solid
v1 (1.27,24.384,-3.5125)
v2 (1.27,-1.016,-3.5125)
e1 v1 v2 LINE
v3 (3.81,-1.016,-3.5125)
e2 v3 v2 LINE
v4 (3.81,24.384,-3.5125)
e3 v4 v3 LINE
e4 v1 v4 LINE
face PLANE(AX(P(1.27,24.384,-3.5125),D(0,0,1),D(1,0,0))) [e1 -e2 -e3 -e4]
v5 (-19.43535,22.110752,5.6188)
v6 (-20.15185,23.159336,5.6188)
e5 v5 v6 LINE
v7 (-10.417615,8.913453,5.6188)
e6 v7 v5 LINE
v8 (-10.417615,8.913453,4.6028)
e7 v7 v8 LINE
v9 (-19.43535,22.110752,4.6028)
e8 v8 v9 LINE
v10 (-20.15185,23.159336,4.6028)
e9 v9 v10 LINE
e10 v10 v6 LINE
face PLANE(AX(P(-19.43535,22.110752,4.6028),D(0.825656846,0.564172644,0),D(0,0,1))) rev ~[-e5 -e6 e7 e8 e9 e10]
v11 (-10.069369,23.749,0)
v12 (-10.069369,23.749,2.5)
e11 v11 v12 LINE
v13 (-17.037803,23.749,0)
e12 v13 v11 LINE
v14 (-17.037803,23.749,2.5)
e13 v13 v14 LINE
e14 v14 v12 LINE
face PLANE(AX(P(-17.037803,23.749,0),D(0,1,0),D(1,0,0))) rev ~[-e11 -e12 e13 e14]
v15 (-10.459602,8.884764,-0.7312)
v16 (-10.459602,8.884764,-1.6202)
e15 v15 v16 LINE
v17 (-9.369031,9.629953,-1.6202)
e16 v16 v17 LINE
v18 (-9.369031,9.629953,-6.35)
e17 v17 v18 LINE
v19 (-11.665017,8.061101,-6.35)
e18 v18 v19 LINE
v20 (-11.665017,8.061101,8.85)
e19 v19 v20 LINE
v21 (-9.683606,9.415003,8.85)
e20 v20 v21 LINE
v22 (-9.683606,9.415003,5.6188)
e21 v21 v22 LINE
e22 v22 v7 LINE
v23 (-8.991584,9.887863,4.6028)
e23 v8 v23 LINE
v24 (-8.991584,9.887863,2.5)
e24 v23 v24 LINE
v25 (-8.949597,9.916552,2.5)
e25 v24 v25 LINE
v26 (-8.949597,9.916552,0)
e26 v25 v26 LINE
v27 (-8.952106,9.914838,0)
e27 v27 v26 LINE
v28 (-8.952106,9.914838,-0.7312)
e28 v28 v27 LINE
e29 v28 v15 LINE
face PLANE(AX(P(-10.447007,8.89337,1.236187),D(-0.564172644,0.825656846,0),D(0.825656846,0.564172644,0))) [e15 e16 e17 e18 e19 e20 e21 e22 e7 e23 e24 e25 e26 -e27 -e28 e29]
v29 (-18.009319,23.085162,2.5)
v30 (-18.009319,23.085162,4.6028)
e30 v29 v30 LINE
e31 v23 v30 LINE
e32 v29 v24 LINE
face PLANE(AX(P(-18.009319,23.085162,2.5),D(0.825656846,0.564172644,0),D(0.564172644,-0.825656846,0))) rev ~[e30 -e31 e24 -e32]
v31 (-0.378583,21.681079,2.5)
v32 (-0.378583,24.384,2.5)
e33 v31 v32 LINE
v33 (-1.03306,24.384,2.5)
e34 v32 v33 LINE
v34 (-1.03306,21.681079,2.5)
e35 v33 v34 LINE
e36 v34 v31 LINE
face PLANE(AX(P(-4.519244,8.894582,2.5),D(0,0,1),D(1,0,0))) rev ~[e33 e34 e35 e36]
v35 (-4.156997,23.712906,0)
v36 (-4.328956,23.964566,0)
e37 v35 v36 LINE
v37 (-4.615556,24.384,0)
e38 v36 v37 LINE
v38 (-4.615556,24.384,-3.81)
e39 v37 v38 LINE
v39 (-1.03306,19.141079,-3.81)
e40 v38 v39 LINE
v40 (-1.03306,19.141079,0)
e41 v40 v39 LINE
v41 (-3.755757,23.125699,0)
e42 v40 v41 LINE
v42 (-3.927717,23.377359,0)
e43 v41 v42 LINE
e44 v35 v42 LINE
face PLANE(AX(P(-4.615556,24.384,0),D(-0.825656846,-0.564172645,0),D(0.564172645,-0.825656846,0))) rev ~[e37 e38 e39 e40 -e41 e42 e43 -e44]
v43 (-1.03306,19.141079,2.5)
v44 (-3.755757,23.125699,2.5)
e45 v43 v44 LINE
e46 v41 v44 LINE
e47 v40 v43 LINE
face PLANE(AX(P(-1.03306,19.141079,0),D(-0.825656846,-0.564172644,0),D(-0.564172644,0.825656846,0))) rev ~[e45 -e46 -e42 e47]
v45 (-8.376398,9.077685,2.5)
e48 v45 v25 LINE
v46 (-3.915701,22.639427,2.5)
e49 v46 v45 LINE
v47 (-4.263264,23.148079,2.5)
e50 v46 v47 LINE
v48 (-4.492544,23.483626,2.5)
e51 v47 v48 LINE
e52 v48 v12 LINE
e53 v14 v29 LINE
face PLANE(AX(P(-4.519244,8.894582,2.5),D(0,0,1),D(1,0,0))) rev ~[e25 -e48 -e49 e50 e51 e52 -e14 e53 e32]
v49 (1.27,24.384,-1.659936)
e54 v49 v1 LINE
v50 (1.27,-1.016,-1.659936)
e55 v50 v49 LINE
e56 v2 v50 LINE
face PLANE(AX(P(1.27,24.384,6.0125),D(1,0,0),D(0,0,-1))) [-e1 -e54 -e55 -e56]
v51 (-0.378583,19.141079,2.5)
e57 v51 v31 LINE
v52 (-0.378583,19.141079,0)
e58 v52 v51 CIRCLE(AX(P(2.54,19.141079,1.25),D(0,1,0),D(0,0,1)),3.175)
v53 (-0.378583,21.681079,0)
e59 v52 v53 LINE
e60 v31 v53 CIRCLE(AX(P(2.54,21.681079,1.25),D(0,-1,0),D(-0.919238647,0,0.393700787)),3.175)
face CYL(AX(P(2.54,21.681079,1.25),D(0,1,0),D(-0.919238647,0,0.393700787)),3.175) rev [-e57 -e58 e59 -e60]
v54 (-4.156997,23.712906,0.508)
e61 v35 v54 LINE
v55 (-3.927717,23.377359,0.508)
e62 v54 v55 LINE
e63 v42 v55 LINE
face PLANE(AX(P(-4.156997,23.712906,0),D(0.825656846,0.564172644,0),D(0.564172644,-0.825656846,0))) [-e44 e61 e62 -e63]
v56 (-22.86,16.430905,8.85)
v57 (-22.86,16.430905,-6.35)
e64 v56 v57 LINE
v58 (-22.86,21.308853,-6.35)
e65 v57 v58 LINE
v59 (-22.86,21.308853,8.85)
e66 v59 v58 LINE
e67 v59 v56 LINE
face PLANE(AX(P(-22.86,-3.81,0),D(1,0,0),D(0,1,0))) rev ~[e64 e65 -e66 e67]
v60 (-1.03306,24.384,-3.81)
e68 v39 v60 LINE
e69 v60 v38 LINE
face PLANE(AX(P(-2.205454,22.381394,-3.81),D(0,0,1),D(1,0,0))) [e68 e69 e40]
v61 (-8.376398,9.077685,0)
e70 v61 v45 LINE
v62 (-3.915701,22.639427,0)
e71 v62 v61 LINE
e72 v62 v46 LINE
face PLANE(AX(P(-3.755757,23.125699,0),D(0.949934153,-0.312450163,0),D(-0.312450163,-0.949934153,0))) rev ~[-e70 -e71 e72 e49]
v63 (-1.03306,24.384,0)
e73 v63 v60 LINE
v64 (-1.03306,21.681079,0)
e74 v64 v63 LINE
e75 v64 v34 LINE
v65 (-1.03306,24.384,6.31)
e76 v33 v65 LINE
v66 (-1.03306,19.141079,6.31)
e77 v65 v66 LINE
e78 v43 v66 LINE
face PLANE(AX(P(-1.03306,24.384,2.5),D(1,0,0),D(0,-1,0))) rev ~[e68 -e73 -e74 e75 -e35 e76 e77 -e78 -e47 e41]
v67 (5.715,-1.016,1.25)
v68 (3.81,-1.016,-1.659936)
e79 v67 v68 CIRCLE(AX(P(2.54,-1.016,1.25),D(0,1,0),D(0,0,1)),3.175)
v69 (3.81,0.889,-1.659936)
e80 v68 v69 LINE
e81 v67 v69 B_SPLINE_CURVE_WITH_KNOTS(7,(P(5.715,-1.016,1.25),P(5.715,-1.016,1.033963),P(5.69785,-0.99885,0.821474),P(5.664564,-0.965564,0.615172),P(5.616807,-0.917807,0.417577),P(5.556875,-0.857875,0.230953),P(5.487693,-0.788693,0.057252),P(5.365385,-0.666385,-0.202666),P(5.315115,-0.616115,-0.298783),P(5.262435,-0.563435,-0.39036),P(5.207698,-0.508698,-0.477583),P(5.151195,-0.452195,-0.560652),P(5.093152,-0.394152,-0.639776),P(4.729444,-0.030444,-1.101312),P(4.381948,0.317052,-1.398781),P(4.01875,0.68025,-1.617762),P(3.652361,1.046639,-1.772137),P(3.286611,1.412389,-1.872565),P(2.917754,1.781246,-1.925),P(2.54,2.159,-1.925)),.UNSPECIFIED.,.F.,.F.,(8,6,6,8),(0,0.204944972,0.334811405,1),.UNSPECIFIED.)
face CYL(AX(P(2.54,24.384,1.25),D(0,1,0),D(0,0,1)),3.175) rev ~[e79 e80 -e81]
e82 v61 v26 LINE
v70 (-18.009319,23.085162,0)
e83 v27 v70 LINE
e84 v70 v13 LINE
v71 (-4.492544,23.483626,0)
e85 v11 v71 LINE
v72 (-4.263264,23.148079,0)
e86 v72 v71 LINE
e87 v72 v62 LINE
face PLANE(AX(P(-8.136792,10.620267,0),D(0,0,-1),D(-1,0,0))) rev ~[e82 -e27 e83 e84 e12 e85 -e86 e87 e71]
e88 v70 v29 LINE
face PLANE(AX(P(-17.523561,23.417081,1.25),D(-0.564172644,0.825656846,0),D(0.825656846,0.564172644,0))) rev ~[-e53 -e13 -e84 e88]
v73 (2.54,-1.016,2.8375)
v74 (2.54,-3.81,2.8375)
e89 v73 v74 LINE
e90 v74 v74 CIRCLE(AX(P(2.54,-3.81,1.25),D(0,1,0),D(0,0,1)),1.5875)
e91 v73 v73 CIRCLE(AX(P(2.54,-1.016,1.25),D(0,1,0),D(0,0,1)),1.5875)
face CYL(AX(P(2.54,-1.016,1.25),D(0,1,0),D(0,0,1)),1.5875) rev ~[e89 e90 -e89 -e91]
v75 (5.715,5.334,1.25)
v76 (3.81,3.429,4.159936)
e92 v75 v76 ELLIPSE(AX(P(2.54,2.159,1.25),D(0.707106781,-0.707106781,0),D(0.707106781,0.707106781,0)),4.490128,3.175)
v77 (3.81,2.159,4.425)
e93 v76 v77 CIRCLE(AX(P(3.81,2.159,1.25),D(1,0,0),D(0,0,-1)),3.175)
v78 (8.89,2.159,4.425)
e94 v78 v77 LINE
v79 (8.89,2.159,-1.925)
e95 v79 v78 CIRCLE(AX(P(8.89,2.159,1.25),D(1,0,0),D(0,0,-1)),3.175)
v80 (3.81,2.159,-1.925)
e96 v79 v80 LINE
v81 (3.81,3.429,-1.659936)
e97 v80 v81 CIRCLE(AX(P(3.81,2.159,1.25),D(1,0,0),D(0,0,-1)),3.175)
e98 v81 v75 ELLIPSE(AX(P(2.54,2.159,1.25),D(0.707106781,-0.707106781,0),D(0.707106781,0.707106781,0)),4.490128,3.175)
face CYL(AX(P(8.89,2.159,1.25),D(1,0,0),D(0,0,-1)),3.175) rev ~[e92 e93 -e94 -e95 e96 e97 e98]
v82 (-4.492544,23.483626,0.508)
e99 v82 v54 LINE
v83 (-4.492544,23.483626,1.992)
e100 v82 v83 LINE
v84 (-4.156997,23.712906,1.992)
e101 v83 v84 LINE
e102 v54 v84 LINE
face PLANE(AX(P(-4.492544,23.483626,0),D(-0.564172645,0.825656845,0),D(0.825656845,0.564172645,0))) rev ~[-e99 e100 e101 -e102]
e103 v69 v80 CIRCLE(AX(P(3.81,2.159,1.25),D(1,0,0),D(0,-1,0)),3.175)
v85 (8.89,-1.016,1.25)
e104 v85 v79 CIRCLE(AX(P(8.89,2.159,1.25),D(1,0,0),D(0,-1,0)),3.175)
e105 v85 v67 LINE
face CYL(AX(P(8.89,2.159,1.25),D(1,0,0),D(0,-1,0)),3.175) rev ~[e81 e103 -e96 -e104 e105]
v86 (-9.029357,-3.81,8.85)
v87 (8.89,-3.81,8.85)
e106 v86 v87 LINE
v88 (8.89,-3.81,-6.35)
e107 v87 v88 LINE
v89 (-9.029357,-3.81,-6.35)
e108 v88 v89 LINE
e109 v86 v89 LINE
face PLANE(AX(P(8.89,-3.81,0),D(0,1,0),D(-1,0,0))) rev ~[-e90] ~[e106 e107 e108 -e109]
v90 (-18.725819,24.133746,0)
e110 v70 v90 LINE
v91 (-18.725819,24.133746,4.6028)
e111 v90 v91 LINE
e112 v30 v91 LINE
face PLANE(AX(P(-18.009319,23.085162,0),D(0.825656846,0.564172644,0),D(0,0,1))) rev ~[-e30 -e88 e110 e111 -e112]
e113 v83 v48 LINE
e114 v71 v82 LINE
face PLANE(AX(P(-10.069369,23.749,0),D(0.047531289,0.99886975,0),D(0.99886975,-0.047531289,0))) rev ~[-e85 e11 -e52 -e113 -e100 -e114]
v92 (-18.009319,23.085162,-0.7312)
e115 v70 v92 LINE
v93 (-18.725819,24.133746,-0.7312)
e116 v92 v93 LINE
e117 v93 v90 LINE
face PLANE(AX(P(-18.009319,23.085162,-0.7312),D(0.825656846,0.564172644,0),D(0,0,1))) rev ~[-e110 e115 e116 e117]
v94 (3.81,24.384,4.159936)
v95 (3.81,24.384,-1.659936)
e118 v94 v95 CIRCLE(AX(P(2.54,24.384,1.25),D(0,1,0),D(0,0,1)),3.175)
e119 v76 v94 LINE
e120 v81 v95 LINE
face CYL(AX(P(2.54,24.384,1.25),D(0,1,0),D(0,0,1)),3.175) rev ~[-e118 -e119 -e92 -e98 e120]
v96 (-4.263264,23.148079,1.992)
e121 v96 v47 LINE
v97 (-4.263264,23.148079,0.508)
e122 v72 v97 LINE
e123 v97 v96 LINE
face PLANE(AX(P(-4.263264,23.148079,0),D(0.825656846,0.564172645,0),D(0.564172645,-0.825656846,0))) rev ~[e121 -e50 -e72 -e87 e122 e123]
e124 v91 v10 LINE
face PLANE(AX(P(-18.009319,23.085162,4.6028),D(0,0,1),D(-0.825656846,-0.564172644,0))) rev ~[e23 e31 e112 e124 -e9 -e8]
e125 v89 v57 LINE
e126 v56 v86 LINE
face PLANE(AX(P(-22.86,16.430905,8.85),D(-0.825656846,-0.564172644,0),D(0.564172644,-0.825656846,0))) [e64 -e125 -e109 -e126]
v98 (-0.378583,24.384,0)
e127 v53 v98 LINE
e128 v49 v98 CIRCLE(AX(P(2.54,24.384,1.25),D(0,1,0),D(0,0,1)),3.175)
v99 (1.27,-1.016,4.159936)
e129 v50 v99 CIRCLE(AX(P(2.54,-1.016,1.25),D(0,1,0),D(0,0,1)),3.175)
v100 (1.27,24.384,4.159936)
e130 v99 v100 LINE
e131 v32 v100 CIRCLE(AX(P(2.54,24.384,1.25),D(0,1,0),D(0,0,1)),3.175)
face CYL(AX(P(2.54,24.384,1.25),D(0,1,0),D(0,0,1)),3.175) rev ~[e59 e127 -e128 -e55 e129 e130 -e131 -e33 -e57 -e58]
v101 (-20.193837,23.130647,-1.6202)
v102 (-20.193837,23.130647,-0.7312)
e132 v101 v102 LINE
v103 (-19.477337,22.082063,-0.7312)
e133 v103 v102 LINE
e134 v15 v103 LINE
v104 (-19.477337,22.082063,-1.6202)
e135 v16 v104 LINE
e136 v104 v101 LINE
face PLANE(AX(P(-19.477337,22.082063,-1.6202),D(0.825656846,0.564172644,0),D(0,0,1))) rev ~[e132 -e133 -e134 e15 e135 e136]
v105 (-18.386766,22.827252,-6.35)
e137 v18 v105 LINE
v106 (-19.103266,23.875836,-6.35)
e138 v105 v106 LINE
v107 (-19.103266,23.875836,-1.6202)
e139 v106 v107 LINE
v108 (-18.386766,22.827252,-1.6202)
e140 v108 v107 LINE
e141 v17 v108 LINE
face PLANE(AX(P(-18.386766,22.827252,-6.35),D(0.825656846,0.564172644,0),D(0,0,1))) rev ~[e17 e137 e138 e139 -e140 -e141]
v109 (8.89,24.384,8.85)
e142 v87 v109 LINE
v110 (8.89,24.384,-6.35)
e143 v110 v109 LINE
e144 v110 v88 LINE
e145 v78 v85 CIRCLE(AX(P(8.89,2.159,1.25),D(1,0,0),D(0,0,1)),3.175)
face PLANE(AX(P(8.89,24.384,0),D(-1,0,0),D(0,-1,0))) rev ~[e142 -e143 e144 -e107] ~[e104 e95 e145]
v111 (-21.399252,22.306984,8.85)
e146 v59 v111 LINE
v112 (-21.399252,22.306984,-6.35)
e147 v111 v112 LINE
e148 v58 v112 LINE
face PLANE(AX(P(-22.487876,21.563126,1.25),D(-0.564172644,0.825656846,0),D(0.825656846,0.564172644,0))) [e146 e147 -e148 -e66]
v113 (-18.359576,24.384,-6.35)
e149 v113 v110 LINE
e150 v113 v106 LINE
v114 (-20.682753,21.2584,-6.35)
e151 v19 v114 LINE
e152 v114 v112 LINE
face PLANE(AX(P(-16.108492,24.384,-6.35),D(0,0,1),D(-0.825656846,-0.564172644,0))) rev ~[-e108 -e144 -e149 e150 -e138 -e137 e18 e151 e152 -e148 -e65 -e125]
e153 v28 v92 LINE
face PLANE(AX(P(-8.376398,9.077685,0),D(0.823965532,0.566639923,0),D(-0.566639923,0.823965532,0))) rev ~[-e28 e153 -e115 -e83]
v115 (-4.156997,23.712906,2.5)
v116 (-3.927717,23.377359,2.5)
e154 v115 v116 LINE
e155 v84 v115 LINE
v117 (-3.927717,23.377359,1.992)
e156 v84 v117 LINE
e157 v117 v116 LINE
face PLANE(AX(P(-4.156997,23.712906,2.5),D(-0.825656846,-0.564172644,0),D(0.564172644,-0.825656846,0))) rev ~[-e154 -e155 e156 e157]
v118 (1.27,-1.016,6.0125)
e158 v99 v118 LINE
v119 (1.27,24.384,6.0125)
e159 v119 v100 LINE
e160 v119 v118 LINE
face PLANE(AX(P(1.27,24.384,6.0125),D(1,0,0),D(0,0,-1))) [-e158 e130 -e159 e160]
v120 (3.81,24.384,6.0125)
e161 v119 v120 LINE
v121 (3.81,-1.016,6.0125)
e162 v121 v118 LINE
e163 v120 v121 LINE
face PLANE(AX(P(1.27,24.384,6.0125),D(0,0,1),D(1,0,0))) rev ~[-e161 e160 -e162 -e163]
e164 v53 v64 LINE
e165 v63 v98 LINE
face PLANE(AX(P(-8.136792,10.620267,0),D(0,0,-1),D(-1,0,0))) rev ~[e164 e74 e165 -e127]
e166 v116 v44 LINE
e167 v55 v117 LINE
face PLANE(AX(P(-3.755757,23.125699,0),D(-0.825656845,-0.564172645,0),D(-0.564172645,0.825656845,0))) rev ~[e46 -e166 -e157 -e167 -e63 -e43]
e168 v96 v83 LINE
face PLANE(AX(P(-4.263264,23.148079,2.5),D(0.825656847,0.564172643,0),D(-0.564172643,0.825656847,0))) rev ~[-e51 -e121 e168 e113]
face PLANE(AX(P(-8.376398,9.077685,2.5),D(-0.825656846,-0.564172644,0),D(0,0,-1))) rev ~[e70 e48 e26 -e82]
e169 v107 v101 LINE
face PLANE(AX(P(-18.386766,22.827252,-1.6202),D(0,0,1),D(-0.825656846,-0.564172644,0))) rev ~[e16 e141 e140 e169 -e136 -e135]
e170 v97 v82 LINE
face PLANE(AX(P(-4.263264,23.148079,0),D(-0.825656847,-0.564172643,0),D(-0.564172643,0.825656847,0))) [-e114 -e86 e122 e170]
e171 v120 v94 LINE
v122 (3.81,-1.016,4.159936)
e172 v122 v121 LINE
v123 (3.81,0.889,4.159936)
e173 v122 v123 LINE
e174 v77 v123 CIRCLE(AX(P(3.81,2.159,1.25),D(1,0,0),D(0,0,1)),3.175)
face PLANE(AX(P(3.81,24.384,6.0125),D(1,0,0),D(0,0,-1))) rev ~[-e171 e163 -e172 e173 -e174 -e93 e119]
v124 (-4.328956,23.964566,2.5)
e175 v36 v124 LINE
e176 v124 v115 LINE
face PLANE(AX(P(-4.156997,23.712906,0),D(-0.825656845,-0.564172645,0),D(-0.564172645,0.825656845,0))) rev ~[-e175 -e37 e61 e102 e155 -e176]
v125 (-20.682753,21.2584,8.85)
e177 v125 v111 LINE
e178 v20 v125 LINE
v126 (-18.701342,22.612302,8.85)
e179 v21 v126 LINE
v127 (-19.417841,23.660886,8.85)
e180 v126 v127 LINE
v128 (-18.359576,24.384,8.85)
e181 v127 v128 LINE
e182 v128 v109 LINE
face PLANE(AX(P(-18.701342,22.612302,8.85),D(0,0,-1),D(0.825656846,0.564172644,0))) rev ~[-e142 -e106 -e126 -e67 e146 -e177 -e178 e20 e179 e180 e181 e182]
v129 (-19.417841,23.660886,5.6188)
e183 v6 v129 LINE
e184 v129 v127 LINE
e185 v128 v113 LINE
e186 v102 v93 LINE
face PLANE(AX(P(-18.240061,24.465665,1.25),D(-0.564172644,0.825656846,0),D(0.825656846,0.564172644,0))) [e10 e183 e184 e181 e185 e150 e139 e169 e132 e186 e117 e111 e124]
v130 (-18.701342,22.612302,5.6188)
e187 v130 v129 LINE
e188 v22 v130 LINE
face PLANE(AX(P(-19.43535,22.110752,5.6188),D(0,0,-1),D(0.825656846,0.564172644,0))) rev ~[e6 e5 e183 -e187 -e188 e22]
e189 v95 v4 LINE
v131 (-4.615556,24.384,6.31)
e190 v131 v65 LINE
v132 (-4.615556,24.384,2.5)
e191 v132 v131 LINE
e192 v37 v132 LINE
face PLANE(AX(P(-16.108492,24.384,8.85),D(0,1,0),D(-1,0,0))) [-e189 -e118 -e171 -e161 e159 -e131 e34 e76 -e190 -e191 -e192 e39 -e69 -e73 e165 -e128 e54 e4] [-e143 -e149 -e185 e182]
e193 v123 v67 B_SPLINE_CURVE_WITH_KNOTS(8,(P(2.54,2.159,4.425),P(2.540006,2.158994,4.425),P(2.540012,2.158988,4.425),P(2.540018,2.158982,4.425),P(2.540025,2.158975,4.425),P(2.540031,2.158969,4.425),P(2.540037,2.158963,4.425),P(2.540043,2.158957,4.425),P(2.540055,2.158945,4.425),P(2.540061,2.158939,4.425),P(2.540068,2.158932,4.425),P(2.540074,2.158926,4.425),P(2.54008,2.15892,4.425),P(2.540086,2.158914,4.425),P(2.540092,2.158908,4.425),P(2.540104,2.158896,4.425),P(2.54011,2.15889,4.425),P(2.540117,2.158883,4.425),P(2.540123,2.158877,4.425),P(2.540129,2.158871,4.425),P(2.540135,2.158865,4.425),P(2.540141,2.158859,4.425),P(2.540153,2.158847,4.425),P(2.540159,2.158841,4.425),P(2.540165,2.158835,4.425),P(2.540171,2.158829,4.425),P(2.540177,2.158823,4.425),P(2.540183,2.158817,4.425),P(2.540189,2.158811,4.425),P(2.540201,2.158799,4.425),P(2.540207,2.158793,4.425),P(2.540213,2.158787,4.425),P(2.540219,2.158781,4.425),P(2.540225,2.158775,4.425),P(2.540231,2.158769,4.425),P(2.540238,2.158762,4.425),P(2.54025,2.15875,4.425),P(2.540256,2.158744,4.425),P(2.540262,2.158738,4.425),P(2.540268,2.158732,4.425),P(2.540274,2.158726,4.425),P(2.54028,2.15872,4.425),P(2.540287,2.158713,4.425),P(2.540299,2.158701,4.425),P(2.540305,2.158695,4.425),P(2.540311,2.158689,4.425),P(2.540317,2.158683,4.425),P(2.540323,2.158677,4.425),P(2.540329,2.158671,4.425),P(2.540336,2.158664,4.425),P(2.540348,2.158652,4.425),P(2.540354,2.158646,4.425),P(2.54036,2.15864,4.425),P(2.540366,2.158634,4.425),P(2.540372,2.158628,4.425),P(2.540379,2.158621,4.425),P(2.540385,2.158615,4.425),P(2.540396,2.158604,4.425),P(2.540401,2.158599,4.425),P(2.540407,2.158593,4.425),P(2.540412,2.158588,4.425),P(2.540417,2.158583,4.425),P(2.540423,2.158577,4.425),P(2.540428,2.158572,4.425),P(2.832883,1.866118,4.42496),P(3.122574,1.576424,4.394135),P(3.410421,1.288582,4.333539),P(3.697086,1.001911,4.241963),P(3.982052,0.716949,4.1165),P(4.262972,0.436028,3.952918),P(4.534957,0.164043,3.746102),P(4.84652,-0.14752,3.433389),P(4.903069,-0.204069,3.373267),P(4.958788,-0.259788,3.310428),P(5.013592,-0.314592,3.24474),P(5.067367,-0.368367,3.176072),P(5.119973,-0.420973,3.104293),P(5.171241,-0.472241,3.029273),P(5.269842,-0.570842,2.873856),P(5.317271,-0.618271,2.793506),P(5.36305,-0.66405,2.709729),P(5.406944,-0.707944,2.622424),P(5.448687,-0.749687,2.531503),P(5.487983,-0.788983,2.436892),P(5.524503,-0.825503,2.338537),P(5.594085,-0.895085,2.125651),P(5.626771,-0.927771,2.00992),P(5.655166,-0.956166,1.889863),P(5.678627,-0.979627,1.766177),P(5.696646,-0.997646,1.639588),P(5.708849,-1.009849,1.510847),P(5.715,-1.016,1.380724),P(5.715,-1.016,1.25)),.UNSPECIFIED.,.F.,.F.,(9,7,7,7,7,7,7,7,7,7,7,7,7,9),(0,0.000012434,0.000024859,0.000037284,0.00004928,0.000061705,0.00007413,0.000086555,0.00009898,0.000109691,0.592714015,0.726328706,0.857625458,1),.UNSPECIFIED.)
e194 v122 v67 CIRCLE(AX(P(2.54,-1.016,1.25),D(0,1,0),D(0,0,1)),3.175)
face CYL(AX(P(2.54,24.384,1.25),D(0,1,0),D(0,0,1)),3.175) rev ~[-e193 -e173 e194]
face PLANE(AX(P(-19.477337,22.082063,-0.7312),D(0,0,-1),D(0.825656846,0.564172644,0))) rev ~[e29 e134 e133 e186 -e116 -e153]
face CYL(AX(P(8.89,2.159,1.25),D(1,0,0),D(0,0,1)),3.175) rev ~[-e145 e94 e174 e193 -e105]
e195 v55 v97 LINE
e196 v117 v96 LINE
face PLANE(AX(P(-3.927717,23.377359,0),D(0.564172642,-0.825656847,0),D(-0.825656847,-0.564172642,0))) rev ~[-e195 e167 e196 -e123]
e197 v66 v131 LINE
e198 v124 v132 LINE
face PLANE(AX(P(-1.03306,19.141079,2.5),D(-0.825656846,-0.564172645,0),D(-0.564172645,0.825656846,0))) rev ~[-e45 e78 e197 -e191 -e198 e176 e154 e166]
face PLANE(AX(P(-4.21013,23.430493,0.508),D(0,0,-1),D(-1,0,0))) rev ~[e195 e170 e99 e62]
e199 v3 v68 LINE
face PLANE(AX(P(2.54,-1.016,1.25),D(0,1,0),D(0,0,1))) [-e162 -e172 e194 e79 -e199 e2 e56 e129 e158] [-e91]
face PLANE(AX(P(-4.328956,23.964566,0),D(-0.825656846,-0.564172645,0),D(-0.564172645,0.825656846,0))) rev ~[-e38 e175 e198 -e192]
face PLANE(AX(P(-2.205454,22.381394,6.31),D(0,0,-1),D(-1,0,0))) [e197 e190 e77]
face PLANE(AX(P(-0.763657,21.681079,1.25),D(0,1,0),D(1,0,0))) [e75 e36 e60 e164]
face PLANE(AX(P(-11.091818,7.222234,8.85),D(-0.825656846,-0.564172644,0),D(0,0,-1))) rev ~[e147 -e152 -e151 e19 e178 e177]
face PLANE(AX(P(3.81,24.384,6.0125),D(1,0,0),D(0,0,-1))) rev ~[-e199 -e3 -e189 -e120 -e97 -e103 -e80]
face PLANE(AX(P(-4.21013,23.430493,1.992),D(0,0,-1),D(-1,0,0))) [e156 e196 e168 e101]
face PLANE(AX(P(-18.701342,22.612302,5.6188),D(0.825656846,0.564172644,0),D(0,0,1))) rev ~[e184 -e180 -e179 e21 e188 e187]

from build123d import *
from build123d.topology import SkipClean

# Parameters (mm, degrees)
BOSS_EXTRUDE1_DEPTH     = 2.5
BOSS_EXTRUDE1_2_DEPTH   = 2.5
BOSS_EXTRUDE2_DEPTH     = 6.35
BOSS_EXTRUDE3_DEPTH     = 6.35
SKETCH4_R               = 3.175
CUT_EXTRUDE1_DEPTH      = 25.4
SKETCH5_R               = 1.5875
CUT_EXTRUDE2_DEPTH      = 25.4
CUT_EXTRUDE3_DEPTH      = 25.4
CUT_EXTRUDE4_REACH      = 43
CUT_EXTRUDE4_END_RADIUS = 3.175
CUT_EXTRUDE5_REACH      = 39.36
SKETCH8_W               = 2.54
SKETCH8_H               = 9.525
SKETCH9_W               = 0.7112
SKETCH9_H               = 15.2
BOSS_EXTRUDE4_DEPTH     = 17
BOSS_EXTRUDE5_DEPTH     = 1.016
SKETCH11_W              = 1.176658287
SKETCH11_H              = 2.5
SKETCH11_W_2            = 2.636987944
SKETCH11_H_2            = 15.2
BOSS_EXTRUDE6_DEPTH     = 1.27
CUT_EXTRUDE6_DEPTH      = 38.864332241
BOSS_EXTRUDE7_START     = 2.54
BOSS_EXTRUDE7_DEPTH     = 2.54
BOSS_EXTRUDE8_DEPTH     = 2.54
BOSS_EXTRUDE9_DEPTH     = 0.508
BOSS_EXTRUDE10_DEPTH    = 0.508
CUT_EXTRUDE7_DEPTH      = 3.81
CUT_EXTRUDE8_DEPTH      = 3.81
BOSS_EXTRUDE11_DEPTH    = 3.81


with BuildPart() as part:
    # Sketch1 → Boss-Extrude1 (new body)
    with BuildSketch(Plane.XY):
        Polygon((5.08, 0), (0, 0), (0, 19.141079028), (-1.033059908, 19.141079028), (-3.75575709, 23.125698967), (-8.376397661, 9.077684872), (-11.679025045, 6.820994294), (-21.26996, 20.857160675), (-22.86, 19.770683798), (-22.86, -3.81), (8.89, -3.81), (8.89, 24.384), (5.08, 24.384), align=None)
    extrude(amount=BOSS_EXTRUDE1_DEPTH)



with BuildPart() as body_2:
    # Sketch1 → Boss-Extrude1 2 (new body)
    with BuildSketch(Plane.XY):
        Polygon((-10.069369191, 23.749), (-4.328956497, 23.964566322), (-4.615556201, 24.384), (-16.108492032, 24.384), (-17.03780348, 23.749), align=None)
    extrude(amount=BOSS_EXTRUDE1_2_DEPTH)


with BuildPart() as part_1:
    add(part.part)

    add(body_2.part)  # Boss-Extrude2 merges body 2
    # Sketch2 → Boss-Extrude2 (add)
    with BuildSketch(Plane.XY.offset(2.5)):
        Polygon((-11.679025045, 6.820994294), (-21.26996, 20.857160675), (-22.86, 19.770683798), (-22.86, -3.81), (8.89, -3.81), (8.89, 24.384), (5.08, 24.384), (5.08, 0), (0, 0), (0, 19.141079028), (-1.033059908, 19.141079028), (-3.75575709, 23.125698967), (-8.376397661, 9.077684872), align=None)
        Polygon((-16.108492032, 24.384), (-18.00931945, 23.085161582), (-8.418384495, 9.048995201), (-8.376397661, 9.077684872), (-3.75575709, 23.125698967), (-1.033059908, 19.141079028), (0, 19.141079028), (0, 0), (5.08, 0), (5.08, 24.384), align=None)
    extrude(amount=BOSS_EXTRUDE2_DEPTH)

    # Sketch3 → Boss-Extrude3 (add)
    with BuildSketch(Plane(origin=(0, 0, 0), x_dir=(-1, 0, 0), z_dir=(0, 0, -1))):
        Polygon((-8.89, 24.384), (-8.89, -3.81), (22.86, -3.81), (22.86, 19.770683798), (21.26996, 20.857160675), (11.679025045, 6.820994294), (8.376397661, 9.077684872), (18.00931945, 23.085161582), (16.108492032, 24.384), align=None)
    extrude(amount=BOSS_EXTRUDE3_DEPTH)

    # Sketch4 → Cut-Extrude1 (cut)
    with BuildSketch(Plane(origin=(0, 24.384, 0), x_dir=(1, 0, 0), z_dir=(0, 1, 0))):
        with Locations(Location((2.54, -1.25, 0), (0, 0, 270))):
            Circle(SKETCH4_R)
    extrude(amount=-CUT_EXTRUDE1_DEPTH, mode=Mode.SUBTRACT)

    # Sketch5 → Cut-Extrude2 (cut)
    with BuildSketch(Plane(origin=(0, -1.016, 0), x_dir=(1, 0, 0), z_dir=(0, 1, 0))):
        with Locations(Location((2.54, -1.25, 0), (0, 0, 270))):
            Circle(SKETCH5_R)
    extrude(amount=-CUT_EXTRUDE2_DEPTH, mode=Mode.SUBTRACT)

    # Sketch6 → Cut-Extrude3 (cut)
    with BuildSketch(Plane.XY.offset(8.85)):
        Polygon((-22.86, 16.430904611), (-9.029357481, -3.81), (-22.86, -3.81), align=None)
    extrude(amount=-CUT_EXTRUDE3_DEPTH, mode=Mode.SUBTRACT)

    # Cut-Extrude4: up to this cylinder (the profile starts outside it)
    with SkipClean():  # the faces are left unmerged after this step: merging them gives an invalid solid
        cut_extrude4_end = Plane(origin=(2.54, 2.159, 1.25), z_dir=(0, 1, 0)) * Cylinder(CUT_EXTRUDE4_END_RADIUS, 96.045024, mode=Mode.PRIVATE)
        # Sketch7 → Cut-Extrude4 (cut, up to the surface)
        with BuildSketch(Plane(origin=(8.89, 0, 0), x_dir=(0, 0, -1), z_dir=(1, 0, 0)), mode=Mode.PRIVATE) as cut_extrude4_sk1:
            with BuildLine():
                ThreePointArc((1.925, 2.159), (-1.25, 5.334), (-4.425, 2.159))
                Line((-4.425, 2.159), (1.925, 2.159))
            make_face()
        cut_extrude4_tool1 = extrude(cut_extrude4_sk1.sketch, amount=-CUT_EXTRUDE4_REACH, mode=Mode.PRIVATE) - cut_extrude4_end
        add(cut_extrude4_tool1.solids().sort_by_distance((8.89, 3.506512, 1.25))[0], mode=Mode.SUBTRACT)
        # Sketch7 → Cut-Extrude4 (cut, up to the surface)
        with BuildSketch(Plane(origin=(8.89, 0, 0), x_dir=(0, 0, -1), z_dir=(1, 0, 0)), mode=Mode.PRIVATE) as cut_extrude4_sk2:
            with BuildLine():
                Line((1.925, 2.159), (-4.425, 2.159))
                ThreePointArc((-4.425, 2.159), (-3.49506403, -0.08606403), (-1.25, -1.016))
                ThreePointArc((-1.25, -1.016), (0.99506403, -0.08606403), (1.925, 2.159))
            make_face()
        cut_extrude4_tool2 = extrude(cut_extrude4_sk2.sketch, amount=-CUT_EXTRUDE4_REACH, mode=Mode.PRIVATE) - cut_extrude4_end
        add(cut_extrude4_tool2.solids().sort_by_distance((8.89, 0.811488, 1.25))[0], mode=Mode.SUBTRACT)
        # Sketch7 → Cut-Extrude4 (cut, up to the surface)
        with BuildSketch(Plane(origin=(8.89, 0, 0), x_dir=(0, 0, -1), z_dir=(1, 0, 0)), mode=Mode.PRIVATE) as cut_extrude4_sk3:
            with BuildLine():
                ThreePointArc((1.925, 2.159), (-1.25, 5.334), (-4.425, 2.159))
                Line((-4.425, 2.159), (1.925, 2.159))
            make_face()
        cut_extrude4_tool3 = extrude(cut_extrude4_sk3.sketch, amount=-CUT_EXTRUDE4_REACH, mode=Mode.PRIVATE) - cut_extrude4_end
        add(cut_extrude4_tool3.solids().sort_by_distance((8.89, 3.506512, 1.25))[0], mode=Mode.SUBTRACT)
        # Sketch7 → Cut-Extrude4 (cut, up to the surface)
        with BuildSketch(Plane(origin=(8.89, 0, 0), x_dir=(0, 0, -1), z_dir=(1, 0, 0)), mode=Mode.PRIVATE) as cut_extrude4_sk4:
            with BuildLine():
                Line((1.925, 2.159), (-4.425, 2.159))
                ThreePointArc((-4.425, 2.159), (-3.49506403, -0.08606403), (-1.25, -1.016))
                ThreePointArc((-1.25, -1.016), (0.99506403, -0.08606403), (1.925, 2.159))
            make_face()
        cut_extrude4_tool4 = extrude(cut_extrude4_sk4.sketch, amount=-CUT_EXTRUDE4_REACH, mode=Mode.PRIVATE) - cut_extrude4_end
        add(cut_extrude4_tool4.solids().sort_by_distance((8.89, 0.811488, 1.25))[0], mode=Mode.SUBTRACT)

    # Cut-Extrude5: up to this face of the body (flat: up to its plane)
    cut_extrude5_end = Plane(part_1.part.faces().sort_by_distance((4.72156403, -1.016, 3.43156403))[0])
    # Sketch8 → Cut-Extrude5 (cut, up to the picked face)
    with BuildSketch(Plane(origin=(0, 24.384, 0), x_dir=(1, 0, 0), z_dir=(0, 1, 0)), mode=Mode.PRIVATE) as cut_extrude5_sk1:
        with Locations((2.54, -1.25)):
            Rectangle(SKETCH8_W, SKETCH8_H)
    cut_extrude5_tool1 = split(extrude(cut_extrude5_sk1.sketch, amount=-CUT_EXTRUDE5_REACH, mode=Mode.PRIVATE), bisect_by=cut_extrude5_end, keep=Keep.BOTH, mode=Mode.PRIVATE)
    add(cut_extrude5_tool1.solids().sort_by(Axis((2.54, 24.384, 1.25), (0, -1, 0)))[0], mode=Mode.SUBTRACT)

    # Sketch9 → Boss-Extrude4 (add)
    with BuildSketch(Plane(origin=(-6.894633763, 10.090176515, 0), x_dir=(0.825656845959394, 0.5641726444275594, 0), z_dir=(-0.5641726444275594, 0.825656845959394, 0))):
        with Locations((-5.439048594, -1.25)):
            Rectangle(SKETCH9_W, SKETCH9_H)
        Polygon((-1.794648594, 6.35), (-2.302648594, 6.35), (-2.302648594, 1.6202), (-3.623501238, 1.6202), (-3.623501238, 0.7312), (-1.794648594, 0.7312), align=None)
        Polygon((-1.845501238, -8.85), (-1.845501238, -4.6028), (-3.572648594, -4.6028), (-3.572648594, -5.6188), (-2.683648594, -5.6188), (-2.683648594, -8.85), align=None)
    extrude(amount=BOSS_EXTRUDE4_DEPTH)

    # Sketch10 → Boss-Extrude5 (add)
    with BuildSketch(Plane(origin=(-6.894633763, 10.090176515, 0), x_dir=(0.8256568459593948, 0.5641726444275585, 0), z_dir=(-0.5641726444275585, 0.8256568459593948, 0))):
        Polygon((-5.083448594, -8.85), (-2.683648594, -8.85), (-2.683648594, -5.6188), (-3.572648594, -5.6188), (-3.572648594, -4.6028), (-1.845501238, -4.6028), (-1.845501238, -2.5), (-1.794648594, -2.5), (-1.794648594, 0), (-1.794648594, 0.7312), (-3.623501238, 0.7312), (-3.623501238, 1.6202), (-2.302648594, 1.6202), (-2.302648594, 6.35), (-5.083448594, 6.35), align=None)
    extrude(amount=BOSS_EXTRUDE5_DEPTH)

    # Sketch11 → Boss-Extrude6 (add)
    with BuildSketch(Plane(origin=(-16.485568719, 24.126342896, 0), x_dir=(0.8256568459593935, 0.5641726444275603, 0), z_dir=(-0.5641726444275603, 0.8256568459593935, 0))):
        with Locations((-1.257172095, -1.25)):
            Rectangle(SKETCH11_W, SKETCH11_H)
        Polygon((-3.623501238, 1.6202), (-3.623501238, 0.7312), (-1.845501238, 0.7312), (-1.845501238, 0), (-0.668842951, 0), (-0.668842951, -2.5), (-1.845501238, -2.5), (-1.845501238, -4.6028), (-3.572648594, -4.6028), (-3.572648594, -5.6188), (-2.683648594, -5.6188), (-2.683648594, -8.85), (0.456699038, -8.85), (0.456699038, 6.35), (-2.302648594, 6.35), (-2.302648594, 1.6202), align=None)
        with Locations((-6.401942566, -1.25)):
            Rectangle(SKETCH11_W_2, SKETCH11_H_2)
    extrude(amount=BOSS_EXTRUDE6_DEPTH)

    # Sketch12 → Cut-Extrude6 (cut, through all)
    with BuildSketch(Plane.XY.offset(8.85)):
        Polygon((-16.108492032, 24.384), (-18.359576008, 24.384), (-16.82499129, 25.432584194), align=None)
        Polygon((-22.86, 19.770683798), (-22.86, 21.308853083), (-23.576499258, 20.819267993), align=None)
    extrude(amount=-CUT_EXTRUDE6_DEPTH, mode=Mode.SUBTRACT)

    # Sketch13 → Boss-Extrude7 (add)
    with BuildSketch(Plane(origin=(0, 19.141079028, 0), x_dir=(1, 0, 0), z_dir=(0, 1, 0)).offset(BOSS_EXTRUDE7_START)):
        with BuildLine():
            Line((-0.378582704, 0), (-1.033059908, 0))
            Line((-1.033059908, 0), (-1.033059908, -2.5))
            Line((-1.033059908, -2.5), (-0.378582704, -2.5))
            ThreePointArc((-0.378582704, -2.5), (-0.635, -1.25), (-0.378582704, 0))
        make_face()
    extrude(amount=-BOSS_EXTRUDE7_DEPTH)

    # Sketch15 → Boss-Extrude8 (add)
    with BuildSketch(Plane.XY):
        Polygon((-4.156996675, 23.712906116), (-4.328956497, 23.964566322), (-4.808856613, 23.946544917), (-4.492543617, 23.483626353), align=None)
        Polygon((-3.75575709, 23.125698967), (-3.927716912, 23.377359173), (-4.263263855, 23.148079411), (-3.915700647, 22.639426706), align=None)
    extrude(amount=BOSS_EXTRUDE8_DEPTH)

    # Sketch16 → Boss-Extrude9 (add)
    with BuildSketch(Plane.XY):
        Polygon((-4.263263855, 23.148079411), (-4.492543617, 23.483626353), (-4.156996675, 23.712906116), (-3.927716912, 23.377359173), align=None)
    extrude(amount=BOSS_EXTRUDE9_DEPTH)

    # Sketch17 → Boss-Extrude10 (add)
    with BuildSketch(Plane(origin=(0, 0, 2.5), x_dir=(-1, 0, 0), z_dir=(0, 0, -1))):
        Polygon((4.263263855, 23.148079411), (4.492543617, 23.483626353), (4.156996675, 23.712906116), (3.927716912, 23.377359173), align=None)
    extrude(amount=BOSS_EXTRUDE10_DEPTH)

    # Sketch18 → Cut-Extrude7 (cut)
    with BuildSketch(Plane(origin=(0, 0, 2.5), x_dir=(-1, 0, 0), z_dir=(0, 0, -1))):
        Polygon((1.033059908, 24.384), (1.033059908, 21.681079028), (1.033059908, 19.141079028), (4.615556201, 24.384), align=None)
    extrude(amount=-CUT_EXTRUDE7_DEPTH, mode=Mode.SUBTRACT)

    # Sketch19 → Cut-Extrude8 (cut)
    with BuildSketch(Plane.XY):
        Polygon((-1.033059908, 19.141079028), (-1.033059908, 21.681079028), (-1.033059908, 24.384), (-4.615556201, 24.384), align=None)
    extrude(amount=-CUT_EXTRUDE8_DEPTH, mode=Mode.SUBTRACT)

    # Sketch20 → Boss-Extrude11 (add)
    with BuildSketch(Plane.XY):
        Polygon((-10.069369191, 23.749), (-4.492543617, 23.483626353), (-4.808856613, 23.946544917), align=None)
    extrude(amount=BOSS_EXTRUDE11_DEPTH)


solid = part_1.part
